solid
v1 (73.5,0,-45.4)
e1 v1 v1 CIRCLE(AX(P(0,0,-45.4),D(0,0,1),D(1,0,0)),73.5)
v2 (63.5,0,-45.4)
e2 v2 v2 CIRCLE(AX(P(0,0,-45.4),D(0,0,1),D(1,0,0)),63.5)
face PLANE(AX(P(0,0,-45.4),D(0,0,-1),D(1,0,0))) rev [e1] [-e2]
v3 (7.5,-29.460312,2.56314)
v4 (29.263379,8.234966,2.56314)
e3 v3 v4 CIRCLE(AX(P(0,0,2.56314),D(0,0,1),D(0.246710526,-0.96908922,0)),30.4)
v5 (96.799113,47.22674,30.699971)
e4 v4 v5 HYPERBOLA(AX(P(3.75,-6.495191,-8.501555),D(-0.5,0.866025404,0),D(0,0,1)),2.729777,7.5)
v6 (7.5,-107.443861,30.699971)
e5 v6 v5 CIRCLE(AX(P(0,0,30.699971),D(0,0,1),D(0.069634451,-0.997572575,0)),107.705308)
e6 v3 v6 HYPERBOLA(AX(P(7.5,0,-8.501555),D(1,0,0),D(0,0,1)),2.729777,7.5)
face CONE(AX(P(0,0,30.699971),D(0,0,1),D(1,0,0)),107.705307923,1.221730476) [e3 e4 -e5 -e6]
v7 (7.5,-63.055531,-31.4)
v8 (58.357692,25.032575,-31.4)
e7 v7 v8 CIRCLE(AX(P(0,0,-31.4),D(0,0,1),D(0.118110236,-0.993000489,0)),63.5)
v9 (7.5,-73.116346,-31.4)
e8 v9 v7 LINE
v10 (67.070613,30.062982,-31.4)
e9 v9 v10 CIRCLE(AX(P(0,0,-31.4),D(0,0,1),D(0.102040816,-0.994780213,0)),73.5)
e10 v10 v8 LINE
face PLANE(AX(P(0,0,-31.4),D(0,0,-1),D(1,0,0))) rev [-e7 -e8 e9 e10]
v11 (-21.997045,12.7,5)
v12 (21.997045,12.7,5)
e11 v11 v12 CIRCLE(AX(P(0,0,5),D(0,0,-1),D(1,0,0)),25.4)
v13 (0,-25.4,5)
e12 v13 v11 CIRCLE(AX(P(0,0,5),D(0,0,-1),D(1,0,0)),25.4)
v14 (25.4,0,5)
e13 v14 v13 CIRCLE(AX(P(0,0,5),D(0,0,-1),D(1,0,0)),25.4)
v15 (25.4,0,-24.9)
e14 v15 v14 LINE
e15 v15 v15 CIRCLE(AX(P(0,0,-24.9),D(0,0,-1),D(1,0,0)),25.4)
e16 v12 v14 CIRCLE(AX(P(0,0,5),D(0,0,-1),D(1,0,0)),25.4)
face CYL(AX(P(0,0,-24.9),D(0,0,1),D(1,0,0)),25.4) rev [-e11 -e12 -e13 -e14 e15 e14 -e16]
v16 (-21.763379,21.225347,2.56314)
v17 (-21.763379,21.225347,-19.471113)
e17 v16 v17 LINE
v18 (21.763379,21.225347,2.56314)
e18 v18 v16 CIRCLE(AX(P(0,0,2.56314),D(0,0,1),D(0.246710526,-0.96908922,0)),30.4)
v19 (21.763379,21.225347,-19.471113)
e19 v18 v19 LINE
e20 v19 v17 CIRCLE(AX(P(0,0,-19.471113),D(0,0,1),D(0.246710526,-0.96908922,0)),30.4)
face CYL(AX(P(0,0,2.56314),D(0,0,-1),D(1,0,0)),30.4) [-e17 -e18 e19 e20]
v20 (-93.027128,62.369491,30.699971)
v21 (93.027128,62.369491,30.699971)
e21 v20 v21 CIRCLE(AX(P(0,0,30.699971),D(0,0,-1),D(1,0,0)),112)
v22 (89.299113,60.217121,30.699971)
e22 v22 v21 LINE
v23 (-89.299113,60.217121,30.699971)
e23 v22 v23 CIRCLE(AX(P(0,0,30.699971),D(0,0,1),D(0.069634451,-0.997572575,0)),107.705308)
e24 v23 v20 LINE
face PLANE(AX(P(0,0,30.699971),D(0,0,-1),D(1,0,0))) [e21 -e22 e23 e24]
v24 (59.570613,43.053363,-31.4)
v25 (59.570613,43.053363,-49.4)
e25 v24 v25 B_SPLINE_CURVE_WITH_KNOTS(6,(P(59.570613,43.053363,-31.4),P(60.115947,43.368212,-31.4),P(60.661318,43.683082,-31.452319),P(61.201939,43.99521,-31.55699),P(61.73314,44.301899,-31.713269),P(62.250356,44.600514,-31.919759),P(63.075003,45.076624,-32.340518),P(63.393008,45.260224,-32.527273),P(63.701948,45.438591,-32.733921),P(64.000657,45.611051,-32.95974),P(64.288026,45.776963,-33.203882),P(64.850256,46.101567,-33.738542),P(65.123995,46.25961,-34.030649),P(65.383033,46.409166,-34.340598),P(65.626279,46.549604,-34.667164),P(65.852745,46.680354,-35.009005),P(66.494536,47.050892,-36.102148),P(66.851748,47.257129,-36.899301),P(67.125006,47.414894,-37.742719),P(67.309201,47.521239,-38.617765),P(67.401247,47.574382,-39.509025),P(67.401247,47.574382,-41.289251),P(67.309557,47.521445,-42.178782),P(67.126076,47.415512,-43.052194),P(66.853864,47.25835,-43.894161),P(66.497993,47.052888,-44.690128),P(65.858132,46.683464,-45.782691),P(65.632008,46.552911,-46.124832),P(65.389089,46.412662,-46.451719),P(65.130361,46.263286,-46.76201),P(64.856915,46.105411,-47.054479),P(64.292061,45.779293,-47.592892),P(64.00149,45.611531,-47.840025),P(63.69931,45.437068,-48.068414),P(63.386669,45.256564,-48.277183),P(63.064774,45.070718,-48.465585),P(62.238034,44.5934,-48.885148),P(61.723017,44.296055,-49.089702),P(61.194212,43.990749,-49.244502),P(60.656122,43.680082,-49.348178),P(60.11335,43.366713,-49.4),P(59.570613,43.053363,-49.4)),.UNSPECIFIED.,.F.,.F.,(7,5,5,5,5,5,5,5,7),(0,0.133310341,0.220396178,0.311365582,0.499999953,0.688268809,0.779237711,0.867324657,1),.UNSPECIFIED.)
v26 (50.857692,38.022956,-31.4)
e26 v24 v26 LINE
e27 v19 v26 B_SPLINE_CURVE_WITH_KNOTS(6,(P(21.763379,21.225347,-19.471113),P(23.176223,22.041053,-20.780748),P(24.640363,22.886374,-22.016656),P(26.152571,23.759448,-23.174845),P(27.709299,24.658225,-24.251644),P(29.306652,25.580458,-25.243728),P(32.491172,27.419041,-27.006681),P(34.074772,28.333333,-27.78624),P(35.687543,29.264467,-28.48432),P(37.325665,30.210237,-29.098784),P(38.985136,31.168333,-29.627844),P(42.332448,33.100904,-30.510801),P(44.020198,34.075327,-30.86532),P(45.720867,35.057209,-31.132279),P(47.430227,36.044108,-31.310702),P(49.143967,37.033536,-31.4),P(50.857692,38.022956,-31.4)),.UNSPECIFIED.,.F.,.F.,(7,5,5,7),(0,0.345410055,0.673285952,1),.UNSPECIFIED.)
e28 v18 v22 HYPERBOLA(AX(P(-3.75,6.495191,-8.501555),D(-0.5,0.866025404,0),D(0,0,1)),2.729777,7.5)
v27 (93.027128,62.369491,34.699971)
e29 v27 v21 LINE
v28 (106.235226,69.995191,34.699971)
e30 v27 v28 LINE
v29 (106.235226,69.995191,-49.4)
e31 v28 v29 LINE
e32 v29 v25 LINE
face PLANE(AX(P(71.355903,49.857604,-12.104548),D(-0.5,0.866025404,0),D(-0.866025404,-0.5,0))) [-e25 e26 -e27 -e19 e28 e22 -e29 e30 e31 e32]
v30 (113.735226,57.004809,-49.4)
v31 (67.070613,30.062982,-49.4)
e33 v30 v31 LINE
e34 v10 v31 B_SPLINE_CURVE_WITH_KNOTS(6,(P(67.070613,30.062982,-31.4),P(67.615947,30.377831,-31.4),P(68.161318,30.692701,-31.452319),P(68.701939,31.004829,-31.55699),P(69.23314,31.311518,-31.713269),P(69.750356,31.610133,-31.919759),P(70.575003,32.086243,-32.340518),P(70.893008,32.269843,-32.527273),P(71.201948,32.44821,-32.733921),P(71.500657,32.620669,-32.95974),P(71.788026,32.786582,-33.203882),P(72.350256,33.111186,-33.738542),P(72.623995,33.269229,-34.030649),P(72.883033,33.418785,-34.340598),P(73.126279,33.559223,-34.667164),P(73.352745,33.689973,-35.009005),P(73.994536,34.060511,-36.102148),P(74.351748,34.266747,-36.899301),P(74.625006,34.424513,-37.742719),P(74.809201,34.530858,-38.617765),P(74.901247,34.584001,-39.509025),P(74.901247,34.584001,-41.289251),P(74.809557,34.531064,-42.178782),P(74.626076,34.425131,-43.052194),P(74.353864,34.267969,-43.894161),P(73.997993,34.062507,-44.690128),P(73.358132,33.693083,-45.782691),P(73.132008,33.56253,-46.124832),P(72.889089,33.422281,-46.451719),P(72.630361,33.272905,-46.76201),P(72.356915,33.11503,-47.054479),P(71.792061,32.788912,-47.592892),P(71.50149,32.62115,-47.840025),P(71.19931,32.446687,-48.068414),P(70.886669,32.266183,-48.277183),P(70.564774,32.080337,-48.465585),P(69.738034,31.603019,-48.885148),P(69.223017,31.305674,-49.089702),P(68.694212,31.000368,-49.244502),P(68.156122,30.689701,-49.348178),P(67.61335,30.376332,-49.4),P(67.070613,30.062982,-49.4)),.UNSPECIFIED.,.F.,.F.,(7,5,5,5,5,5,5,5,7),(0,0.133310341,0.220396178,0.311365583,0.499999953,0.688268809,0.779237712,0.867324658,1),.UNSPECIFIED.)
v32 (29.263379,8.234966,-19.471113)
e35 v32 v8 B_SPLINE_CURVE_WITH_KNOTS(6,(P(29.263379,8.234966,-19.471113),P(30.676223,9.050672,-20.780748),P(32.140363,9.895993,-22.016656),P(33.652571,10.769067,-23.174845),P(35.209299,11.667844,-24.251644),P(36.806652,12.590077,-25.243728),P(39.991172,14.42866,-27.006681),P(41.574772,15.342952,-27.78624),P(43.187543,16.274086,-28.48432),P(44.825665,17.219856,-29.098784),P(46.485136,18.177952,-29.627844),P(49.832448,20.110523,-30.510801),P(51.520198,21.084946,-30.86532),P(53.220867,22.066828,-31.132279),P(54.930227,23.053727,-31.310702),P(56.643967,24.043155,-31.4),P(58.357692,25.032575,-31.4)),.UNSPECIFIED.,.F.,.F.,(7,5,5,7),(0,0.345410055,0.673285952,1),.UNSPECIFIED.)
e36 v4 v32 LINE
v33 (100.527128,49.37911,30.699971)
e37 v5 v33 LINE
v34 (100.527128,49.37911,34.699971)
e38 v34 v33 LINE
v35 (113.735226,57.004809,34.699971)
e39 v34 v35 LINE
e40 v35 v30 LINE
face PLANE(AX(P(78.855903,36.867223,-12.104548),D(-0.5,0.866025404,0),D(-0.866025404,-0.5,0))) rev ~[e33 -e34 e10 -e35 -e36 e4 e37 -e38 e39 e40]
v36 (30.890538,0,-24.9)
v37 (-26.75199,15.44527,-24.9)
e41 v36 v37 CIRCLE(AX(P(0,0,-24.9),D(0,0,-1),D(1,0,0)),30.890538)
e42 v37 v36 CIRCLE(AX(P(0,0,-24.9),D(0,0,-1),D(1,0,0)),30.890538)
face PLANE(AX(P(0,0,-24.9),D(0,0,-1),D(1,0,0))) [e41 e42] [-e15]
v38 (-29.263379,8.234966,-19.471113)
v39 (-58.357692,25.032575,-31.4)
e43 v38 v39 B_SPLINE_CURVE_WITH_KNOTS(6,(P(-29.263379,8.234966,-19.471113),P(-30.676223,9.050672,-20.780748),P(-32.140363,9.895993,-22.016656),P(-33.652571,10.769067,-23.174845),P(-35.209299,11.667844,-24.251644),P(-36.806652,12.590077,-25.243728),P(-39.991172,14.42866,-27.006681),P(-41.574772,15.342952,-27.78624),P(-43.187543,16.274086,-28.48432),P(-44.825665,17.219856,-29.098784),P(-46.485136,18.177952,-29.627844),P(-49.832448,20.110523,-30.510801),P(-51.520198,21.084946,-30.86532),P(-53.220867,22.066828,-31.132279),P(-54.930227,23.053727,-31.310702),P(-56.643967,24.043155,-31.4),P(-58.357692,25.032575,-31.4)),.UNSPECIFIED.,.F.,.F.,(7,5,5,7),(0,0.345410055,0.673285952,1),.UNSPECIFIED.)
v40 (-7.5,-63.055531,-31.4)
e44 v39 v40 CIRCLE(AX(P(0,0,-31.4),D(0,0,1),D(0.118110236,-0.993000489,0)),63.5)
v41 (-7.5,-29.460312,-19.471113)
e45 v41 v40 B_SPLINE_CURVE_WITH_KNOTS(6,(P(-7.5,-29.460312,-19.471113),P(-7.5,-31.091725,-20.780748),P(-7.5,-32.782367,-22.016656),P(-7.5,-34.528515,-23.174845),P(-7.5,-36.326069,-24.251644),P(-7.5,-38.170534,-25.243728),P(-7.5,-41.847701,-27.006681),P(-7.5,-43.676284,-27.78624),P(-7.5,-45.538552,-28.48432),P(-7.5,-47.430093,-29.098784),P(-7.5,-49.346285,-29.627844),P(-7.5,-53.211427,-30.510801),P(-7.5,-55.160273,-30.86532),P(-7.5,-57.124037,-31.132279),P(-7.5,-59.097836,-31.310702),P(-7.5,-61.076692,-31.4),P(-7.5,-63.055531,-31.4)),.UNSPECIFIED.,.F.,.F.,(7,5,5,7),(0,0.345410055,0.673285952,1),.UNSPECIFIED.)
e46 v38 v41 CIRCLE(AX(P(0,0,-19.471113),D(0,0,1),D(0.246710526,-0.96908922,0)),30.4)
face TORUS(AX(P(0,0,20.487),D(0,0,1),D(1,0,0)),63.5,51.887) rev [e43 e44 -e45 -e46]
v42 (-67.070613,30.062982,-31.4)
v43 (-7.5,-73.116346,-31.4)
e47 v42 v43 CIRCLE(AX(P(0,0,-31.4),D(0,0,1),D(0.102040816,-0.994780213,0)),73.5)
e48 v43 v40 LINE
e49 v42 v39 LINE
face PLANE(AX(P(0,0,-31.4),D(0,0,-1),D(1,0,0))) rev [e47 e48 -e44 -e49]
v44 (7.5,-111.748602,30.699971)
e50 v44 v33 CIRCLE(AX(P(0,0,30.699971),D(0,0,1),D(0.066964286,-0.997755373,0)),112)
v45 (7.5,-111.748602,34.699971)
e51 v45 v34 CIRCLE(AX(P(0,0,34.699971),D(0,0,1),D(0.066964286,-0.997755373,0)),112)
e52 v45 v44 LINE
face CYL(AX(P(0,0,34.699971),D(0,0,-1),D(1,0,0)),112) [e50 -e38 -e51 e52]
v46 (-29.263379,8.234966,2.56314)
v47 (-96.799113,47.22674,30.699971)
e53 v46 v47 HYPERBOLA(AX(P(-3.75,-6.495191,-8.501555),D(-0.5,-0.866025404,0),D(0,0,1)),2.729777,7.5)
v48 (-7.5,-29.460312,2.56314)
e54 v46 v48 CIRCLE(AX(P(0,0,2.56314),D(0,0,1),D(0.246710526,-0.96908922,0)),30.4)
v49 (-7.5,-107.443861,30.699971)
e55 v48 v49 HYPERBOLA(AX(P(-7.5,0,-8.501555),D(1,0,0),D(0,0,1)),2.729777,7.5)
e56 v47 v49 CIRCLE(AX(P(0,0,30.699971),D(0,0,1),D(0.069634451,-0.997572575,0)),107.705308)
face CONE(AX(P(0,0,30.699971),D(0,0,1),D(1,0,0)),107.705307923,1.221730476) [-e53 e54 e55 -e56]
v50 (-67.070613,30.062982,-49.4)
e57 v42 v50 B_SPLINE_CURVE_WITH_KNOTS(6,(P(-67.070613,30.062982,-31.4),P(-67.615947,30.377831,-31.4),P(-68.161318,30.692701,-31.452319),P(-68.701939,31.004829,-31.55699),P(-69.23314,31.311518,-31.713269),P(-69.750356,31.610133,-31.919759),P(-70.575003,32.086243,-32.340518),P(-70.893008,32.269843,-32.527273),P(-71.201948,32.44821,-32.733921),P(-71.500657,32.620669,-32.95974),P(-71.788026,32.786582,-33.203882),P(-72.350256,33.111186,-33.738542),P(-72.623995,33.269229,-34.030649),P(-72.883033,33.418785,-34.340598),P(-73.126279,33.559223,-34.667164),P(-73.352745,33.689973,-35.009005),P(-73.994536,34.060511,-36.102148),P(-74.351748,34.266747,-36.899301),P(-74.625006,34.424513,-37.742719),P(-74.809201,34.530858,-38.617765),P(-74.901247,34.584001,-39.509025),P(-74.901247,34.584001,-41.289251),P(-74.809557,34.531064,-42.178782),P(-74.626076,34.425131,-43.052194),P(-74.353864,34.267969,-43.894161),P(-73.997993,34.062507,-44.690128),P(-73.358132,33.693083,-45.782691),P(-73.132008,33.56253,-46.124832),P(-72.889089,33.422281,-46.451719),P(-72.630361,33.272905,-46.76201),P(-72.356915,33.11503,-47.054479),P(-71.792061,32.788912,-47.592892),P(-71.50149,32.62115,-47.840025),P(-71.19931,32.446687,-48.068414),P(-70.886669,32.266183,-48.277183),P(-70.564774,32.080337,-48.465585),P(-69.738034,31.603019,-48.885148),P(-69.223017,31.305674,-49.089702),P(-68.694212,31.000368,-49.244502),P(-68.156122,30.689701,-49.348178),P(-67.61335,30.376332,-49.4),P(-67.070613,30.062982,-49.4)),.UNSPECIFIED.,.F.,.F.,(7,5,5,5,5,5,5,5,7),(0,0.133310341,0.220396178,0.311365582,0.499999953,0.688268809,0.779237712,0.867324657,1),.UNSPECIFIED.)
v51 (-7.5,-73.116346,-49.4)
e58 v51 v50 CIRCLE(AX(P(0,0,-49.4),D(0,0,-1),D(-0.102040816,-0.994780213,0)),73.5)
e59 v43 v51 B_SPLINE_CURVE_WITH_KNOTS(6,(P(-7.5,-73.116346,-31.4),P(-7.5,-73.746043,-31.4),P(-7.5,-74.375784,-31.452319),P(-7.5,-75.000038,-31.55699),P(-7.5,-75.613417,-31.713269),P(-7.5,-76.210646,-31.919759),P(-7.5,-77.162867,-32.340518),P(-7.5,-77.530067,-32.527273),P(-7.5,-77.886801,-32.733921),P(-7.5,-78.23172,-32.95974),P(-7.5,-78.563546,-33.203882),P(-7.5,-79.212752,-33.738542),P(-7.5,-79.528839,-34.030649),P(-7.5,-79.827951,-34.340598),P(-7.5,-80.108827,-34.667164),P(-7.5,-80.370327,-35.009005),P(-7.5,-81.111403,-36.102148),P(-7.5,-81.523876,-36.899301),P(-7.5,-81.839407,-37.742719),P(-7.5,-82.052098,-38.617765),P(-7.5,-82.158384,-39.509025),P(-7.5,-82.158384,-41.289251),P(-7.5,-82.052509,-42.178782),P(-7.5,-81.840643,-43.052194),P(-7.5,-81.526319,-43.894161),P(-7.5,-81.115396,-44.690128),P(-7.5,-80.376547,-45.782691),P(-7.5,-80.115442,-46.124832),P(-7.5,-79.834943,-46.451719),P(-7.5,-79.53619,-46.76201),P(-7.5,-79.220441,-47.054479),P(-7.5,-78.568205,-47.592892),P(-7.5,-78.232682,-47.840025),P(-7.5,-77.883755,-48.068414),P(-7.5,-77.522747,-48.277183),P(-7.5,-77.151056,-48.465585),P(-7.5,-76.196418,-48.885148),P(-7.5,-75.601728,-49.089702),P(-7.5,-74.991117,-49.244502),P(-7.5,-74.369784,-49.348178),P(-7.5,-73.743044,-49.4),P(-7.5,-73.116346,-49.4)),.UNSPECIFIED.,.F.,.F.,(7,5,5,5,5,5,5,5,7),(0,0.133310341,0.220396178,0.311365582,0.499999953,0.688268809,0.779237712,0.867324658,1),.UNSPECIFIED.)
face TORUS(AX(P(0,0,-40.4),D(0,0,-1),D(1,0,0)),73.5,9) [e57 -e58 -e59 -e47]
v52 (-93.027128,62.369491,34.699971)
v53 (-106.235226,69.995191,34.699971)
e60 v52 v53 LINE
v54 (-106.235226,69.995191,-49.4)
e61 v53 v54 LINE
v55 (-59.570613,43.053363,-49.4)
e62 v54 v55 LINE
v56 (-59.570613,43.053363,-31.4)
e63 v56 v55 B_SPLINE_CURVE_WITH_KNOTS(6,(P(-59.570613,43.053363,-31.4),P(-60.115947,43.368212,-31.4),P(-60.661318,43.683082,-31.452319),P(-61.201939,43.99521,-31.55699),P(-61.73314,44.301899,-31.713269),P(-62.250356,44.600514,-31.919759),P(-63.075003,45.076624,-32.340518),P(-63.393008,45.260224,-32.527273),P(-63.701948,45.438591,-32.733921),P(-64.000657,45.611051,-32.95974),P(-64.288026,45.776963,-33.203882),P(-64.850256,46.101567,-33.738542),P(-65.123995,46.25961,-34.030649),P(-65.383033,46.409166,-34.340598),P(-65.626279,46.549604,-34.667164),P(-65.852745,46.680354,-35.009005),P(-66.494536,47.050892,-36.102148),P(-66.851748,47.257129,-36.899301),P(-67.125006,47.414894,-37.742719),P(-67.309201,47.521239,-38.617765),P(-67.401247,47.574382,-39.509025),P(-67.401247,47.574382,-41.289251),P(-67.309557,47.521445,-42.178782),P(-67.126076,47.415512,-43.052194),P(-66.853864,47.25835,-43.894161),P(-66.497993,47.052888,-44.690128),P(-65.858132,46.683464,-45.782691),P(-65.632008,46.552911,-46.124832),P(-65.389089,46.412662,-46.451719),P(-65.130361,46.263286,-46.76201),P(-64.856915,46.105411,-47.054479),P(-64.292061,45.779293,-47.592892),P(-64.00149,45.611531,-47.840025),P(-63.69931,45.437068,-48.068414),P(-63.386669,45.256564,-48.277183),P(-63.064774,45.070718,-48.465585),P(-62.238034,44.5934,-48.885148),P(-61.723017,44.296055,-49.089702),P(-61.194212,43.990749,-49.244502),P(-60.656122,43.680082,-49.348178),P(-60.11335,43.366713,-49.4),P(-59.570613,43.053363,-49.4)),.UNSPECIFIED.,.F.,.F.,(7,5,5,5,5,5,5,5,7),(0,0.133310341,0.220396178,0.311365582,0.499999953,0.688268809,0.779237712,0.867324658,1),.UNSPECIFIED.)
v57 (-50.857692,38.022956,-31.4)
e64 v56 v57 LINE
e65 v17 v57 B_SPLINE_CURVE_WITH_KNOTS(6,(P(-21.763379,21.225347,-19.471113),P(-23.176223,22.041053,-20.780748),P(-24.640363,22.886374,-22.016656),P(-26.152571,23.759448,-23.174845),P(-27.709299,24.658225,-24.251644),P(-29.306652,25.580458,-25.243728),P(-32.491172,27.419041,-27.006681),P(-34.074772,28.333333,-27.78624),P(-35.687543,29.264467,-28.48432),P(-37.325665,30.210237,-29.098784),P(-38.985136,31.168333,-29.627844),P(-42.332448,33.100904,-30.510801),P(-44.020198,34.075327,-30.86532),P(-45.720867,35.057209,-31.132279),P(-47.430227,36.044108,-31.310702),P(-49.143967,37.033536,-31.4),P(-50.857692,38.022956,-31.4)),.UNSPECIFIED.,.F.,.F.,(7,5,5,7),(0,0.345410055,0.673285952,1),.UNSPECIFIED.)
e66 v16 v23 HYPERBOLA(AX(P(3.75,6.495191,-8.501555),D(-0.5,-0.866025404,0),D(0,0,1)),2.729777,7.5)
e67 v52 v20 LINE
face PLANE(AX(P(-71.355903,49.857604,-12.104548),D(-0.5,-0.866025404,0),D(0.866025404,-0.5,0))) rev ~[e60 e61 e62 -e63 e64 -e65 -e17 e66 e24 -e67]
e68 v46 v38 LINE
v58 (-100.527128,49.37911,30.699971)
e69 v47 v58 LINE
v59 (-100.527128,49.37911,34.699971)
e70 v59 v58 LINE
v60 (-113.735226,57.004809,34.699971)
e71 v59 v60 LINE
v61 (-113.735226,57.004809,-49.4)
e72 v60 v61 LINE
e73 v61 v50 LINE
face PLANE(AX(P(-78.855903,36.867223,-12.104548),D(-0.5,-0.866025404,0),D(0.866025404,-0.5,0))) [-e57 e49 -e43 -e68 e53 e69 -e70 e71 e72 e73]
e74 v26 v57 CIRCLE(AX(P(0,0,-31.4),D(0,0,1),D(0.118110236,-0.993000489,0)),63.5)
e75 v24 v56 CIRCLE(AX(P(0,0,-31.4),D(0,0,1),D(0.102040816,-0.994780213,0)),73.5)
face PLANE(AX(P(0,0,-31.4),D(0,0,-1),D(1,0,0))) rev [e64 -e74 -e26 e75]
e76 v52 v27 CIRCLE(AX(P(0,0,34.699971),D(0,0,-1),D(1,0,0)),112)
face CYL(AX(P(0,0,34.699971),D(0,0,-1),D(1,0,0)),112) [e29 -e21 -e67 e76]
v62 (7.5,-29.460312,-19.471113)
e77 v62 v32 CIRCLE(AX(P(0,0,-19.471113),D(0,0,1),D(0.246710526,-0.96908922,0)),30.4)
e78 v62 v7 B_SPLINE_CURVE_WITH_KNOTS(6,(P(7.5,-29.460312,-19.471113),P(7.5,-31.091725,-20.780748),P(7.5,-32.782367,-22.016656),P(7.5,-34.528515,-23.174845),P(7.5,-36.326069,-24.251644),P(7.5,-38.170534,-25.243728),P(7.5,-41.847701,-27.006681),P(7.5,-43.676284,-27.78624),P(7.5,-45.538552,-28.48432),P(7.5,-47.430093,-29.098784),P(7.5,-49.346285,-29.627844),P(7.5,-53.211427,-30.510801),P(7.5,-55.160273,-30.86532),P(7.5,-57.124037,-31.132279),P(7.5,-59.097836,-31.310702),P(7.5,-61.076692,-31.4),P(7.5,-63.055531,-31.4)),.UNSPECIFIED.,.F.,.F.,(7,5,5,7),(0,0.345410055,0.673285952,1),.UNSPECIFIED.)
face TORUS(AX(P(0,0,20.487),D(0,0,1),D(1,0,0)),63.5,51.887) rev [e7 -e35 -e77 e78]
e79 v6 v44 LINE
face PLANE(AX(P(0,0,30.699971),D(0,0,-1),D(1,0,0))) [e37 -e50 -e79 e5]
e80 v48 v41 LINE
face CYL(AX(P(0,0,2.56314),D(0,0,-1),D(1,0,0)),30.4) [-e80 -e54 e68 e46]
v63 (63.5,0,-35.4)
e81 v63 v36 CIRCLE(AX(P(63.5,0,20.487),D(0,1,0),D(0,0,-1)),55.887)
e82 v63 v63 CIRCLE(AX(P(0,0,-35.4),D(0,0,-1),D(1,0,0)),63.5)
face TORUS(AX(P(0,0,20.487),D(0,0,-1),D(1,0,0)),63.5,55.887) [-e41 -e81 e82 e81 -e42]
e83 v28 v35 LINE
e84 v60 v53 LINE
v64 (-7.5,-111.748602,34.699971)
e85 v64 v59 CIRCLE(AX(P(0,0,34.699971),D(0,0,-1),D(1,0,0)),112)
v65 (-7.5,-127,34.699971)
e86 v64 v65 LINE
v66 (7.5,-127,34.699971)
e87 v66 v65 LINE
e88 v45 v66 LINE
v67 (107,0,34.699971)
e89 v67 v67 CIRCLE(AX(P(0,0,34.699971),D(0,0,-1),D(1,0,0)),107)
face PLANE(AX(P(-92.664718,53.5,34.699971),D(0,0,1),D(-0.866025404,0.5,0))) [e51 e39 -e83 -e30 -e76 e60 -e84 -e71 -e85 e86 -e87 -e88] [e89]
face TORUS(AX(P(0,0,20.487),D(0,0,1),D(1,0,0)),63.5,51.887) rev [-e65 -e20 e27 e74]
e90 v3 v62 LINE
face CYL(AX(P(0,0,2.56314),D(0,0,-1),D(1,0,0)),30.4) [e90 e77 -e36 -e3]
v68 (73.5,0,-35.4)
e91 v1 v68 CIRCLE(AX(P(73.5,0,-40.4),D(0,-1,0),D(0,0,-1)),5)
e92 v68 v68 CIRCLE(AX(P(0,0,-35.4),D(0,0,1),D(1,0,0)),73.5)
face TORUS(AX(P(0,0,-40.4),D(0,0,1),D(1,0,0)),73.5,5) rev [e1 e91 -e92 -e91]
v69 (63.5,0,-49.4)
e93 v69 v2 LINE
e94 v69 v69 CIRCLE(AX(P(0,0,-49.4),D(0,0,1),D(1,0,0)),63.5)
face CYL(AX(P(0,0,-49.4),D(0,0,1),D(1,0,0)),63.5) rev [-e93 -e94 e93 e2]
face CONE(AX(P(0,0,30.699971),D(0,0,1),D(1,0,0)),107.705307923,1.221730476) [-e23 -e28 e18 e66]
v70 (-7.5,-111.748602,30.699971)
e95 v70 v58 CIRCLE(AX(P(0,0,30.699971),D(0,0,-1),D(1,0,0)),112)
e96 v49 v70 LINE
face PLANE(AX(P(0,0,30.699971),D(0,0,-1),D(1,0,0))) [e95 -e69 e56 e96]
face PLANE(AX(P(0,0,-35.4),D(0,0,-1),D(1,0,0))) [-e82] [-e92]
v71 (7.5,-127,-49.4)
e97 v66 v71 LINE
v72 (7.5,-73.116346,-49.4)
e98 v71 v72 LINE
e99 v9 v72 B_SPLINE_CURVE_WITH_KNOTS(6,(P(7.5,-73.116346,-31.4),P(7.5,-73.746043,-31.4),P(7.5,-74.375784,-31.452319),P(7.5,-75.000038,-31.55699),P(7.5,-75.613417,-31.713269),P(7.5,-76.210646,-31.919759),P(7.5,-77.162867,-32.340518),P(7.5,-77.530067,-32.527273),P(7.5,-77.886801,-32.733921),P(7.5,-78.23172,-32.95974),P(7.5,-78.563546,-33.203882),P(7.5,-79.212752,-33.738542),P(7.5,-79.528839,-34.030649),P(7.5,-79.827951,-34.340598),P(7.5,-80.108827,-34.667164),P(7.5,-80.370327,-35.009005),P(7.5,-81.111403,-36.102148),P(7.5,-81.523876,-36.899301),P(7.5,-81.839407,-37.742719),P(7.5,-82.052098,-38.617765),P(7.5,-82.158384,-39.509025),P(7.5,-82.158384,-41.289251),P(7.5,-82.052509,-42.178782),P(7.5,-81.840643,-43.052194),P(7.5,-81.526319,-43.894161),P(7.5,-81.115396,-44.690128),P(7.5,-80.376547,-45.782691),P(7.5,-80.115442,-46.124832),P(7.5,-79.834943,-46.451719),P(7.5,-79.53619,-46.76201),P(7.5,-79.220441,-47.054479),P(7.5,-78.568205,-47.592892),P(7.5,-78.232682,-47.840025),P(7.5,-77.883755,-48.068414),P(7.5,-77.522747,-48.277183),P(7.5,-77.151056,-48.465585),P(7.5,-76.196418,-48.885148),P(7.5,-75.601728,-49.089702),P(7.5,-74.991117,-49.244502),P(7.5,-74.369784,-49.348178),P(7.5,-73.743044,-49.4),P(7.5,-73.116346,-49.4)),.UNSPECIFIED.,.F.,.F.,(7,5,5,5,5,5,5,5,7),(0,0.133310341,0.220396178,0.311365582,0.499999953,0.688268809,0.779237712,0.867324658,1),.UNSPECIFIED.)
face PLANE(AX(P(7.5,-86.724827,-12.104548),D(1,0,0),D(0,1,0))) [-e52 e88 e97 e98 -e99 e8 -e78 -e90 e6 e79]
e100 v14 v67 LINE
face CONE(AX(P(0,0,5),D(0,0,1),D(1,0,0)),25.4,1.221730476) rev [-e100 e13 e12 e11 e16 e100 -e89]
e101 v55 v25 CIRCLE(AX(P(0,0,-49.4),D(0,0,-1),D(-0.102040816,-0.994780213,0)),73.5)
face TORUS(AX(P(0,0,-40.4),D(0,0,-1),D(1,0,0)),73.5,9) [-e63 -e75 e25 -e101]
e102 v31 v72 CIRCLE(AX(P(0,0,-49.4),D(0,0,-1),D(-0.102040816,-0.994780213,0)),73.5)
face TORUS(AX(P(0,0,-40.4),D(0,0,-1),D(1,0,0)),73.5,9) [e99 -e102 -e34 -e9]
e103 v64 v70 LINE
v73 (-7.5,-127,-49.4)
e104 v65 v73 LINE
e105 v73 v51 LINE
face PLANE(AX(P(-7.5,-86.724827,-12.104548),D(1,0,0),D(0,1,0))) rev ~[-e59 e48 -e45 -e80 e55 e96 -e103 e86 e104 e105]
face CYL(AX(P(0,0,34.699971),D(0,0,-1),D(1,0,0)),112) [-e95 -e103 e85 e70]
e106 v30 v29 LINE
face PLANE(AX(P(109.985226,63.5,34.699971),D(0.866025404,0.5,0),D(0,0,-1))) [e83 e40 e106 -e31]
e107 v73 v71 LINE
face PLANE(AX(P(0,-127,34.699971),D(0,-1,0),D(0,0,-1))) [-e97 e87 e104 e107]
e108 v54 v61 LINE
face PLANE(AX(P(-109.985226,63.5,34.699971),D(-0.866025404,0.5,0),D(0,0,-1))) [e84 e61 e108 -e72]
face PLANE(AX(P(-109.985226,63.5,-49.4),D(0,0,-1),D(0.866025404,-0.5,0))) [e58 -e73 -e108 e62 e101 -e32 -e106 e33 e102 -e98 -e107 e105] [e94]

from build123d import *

# Parameters (mm, degrees)
BOSS_EXTRUDE2_DEPTH = 7.5
CIRPATTERN1_COUNT   = 3


with BuildPart() as part:
    # Sketch1 → Revolve1 (revolve)
    with BuildSketch(Plane.YZ):
        with BuildLine():
            Line((-107, 34.699971116), (-112, 34.699971116))
            Line((-112, 34.699971116), (-112, 30.699971116))
            Line((-112, 30.699971116), (-107.705307923, 30.699971116))
            Line((-107.705307923, 30.699971116), (-30.4, 2.563140081))
            Line((-30.4, 2.563140081), (-30.4, -19.471112681))
            ThreePointArc((-30.4, -19.471112681), (-45.908039104, -28.32676528), (-63.5, -31.4))
            Line((-63.5, -31.4), (-73.5, -31.4))
            ThreePointArc((-73.5, -31.4), (-82.5, -40.4), (-73.5, -49.4))
            Line((-73.5, -49.4), (-63.5, -49.4))
            Line((-63.5, -49.4), (-63.5, -45.4))
            Line((-63.5, -45.4), (-73.5, -45.4))
            ThreePointArc((-73.5, -45.4), (-78.5, -40.4), (-73.5, -35.4))
            Line((-73.5, -35.4), (-63.5, -35.4))
            ThreePointArc((-63.5, -35.4), (-46.370880058, -32.710274545), (-30.890538183, -24.9))
            Line((-30.890538183, -24.9), (-25.4, -24.9))
            Line((-25.4, -24.9), (-25.4, 5))
            Line((-25.4, 5), (-107, 34.699971116))
        make_face()
    revolve(axis=Axis((0, 0, 59.888434314), (0, 0, -1)))

    # Sketch1<4> → Boss-Extrude2 (add, symmetric)
    with BuildSketch(Plane.YZ):
        with BuildLine():
            Line((-127, 34.699971116), (-127, -49.4))
            Line((-127, -49.4), (-63.5, -49.4))
            Line((-63.5, -49.4), (-63.5, -45.4))
            Line((-63.5, -45.4), (-73.5, -45.4))
            ThreePointArc((-73.5, -45.4), (-78.5, -40.4), (-73.5, -35.4))
            Line((-73.5, -35.4), (-63.5, -35.4))
            ThreePointArc((-63.5, -35.4), (-43.026785792, -31.514964088), (-25.4, -20.4))
            Line((-25.4, -20.4), (-25.4, 5))
            Line((-25.4, 5), (-107, 34.699971116))
            Line((-107, 34.699971116), (-127, 34.699971116))
        make_face()
    boss_extrude2 = extrude(amount=BOSS_EXTRUDE2_DEPTH, both=True)

    # CirPattern1: Boss-Extrude2 ×3 about axis
    cirpattern1_axis = Axis((0, 0, 59.888434314), (0, 0, -1))
    for i in range(1, CIRPATTERN1_COUNT):
        add(boss_extrude2.rotate(cirpattern1_axis, i * 360 / CIRPATTERN1_COUNT))


solid = part.part
